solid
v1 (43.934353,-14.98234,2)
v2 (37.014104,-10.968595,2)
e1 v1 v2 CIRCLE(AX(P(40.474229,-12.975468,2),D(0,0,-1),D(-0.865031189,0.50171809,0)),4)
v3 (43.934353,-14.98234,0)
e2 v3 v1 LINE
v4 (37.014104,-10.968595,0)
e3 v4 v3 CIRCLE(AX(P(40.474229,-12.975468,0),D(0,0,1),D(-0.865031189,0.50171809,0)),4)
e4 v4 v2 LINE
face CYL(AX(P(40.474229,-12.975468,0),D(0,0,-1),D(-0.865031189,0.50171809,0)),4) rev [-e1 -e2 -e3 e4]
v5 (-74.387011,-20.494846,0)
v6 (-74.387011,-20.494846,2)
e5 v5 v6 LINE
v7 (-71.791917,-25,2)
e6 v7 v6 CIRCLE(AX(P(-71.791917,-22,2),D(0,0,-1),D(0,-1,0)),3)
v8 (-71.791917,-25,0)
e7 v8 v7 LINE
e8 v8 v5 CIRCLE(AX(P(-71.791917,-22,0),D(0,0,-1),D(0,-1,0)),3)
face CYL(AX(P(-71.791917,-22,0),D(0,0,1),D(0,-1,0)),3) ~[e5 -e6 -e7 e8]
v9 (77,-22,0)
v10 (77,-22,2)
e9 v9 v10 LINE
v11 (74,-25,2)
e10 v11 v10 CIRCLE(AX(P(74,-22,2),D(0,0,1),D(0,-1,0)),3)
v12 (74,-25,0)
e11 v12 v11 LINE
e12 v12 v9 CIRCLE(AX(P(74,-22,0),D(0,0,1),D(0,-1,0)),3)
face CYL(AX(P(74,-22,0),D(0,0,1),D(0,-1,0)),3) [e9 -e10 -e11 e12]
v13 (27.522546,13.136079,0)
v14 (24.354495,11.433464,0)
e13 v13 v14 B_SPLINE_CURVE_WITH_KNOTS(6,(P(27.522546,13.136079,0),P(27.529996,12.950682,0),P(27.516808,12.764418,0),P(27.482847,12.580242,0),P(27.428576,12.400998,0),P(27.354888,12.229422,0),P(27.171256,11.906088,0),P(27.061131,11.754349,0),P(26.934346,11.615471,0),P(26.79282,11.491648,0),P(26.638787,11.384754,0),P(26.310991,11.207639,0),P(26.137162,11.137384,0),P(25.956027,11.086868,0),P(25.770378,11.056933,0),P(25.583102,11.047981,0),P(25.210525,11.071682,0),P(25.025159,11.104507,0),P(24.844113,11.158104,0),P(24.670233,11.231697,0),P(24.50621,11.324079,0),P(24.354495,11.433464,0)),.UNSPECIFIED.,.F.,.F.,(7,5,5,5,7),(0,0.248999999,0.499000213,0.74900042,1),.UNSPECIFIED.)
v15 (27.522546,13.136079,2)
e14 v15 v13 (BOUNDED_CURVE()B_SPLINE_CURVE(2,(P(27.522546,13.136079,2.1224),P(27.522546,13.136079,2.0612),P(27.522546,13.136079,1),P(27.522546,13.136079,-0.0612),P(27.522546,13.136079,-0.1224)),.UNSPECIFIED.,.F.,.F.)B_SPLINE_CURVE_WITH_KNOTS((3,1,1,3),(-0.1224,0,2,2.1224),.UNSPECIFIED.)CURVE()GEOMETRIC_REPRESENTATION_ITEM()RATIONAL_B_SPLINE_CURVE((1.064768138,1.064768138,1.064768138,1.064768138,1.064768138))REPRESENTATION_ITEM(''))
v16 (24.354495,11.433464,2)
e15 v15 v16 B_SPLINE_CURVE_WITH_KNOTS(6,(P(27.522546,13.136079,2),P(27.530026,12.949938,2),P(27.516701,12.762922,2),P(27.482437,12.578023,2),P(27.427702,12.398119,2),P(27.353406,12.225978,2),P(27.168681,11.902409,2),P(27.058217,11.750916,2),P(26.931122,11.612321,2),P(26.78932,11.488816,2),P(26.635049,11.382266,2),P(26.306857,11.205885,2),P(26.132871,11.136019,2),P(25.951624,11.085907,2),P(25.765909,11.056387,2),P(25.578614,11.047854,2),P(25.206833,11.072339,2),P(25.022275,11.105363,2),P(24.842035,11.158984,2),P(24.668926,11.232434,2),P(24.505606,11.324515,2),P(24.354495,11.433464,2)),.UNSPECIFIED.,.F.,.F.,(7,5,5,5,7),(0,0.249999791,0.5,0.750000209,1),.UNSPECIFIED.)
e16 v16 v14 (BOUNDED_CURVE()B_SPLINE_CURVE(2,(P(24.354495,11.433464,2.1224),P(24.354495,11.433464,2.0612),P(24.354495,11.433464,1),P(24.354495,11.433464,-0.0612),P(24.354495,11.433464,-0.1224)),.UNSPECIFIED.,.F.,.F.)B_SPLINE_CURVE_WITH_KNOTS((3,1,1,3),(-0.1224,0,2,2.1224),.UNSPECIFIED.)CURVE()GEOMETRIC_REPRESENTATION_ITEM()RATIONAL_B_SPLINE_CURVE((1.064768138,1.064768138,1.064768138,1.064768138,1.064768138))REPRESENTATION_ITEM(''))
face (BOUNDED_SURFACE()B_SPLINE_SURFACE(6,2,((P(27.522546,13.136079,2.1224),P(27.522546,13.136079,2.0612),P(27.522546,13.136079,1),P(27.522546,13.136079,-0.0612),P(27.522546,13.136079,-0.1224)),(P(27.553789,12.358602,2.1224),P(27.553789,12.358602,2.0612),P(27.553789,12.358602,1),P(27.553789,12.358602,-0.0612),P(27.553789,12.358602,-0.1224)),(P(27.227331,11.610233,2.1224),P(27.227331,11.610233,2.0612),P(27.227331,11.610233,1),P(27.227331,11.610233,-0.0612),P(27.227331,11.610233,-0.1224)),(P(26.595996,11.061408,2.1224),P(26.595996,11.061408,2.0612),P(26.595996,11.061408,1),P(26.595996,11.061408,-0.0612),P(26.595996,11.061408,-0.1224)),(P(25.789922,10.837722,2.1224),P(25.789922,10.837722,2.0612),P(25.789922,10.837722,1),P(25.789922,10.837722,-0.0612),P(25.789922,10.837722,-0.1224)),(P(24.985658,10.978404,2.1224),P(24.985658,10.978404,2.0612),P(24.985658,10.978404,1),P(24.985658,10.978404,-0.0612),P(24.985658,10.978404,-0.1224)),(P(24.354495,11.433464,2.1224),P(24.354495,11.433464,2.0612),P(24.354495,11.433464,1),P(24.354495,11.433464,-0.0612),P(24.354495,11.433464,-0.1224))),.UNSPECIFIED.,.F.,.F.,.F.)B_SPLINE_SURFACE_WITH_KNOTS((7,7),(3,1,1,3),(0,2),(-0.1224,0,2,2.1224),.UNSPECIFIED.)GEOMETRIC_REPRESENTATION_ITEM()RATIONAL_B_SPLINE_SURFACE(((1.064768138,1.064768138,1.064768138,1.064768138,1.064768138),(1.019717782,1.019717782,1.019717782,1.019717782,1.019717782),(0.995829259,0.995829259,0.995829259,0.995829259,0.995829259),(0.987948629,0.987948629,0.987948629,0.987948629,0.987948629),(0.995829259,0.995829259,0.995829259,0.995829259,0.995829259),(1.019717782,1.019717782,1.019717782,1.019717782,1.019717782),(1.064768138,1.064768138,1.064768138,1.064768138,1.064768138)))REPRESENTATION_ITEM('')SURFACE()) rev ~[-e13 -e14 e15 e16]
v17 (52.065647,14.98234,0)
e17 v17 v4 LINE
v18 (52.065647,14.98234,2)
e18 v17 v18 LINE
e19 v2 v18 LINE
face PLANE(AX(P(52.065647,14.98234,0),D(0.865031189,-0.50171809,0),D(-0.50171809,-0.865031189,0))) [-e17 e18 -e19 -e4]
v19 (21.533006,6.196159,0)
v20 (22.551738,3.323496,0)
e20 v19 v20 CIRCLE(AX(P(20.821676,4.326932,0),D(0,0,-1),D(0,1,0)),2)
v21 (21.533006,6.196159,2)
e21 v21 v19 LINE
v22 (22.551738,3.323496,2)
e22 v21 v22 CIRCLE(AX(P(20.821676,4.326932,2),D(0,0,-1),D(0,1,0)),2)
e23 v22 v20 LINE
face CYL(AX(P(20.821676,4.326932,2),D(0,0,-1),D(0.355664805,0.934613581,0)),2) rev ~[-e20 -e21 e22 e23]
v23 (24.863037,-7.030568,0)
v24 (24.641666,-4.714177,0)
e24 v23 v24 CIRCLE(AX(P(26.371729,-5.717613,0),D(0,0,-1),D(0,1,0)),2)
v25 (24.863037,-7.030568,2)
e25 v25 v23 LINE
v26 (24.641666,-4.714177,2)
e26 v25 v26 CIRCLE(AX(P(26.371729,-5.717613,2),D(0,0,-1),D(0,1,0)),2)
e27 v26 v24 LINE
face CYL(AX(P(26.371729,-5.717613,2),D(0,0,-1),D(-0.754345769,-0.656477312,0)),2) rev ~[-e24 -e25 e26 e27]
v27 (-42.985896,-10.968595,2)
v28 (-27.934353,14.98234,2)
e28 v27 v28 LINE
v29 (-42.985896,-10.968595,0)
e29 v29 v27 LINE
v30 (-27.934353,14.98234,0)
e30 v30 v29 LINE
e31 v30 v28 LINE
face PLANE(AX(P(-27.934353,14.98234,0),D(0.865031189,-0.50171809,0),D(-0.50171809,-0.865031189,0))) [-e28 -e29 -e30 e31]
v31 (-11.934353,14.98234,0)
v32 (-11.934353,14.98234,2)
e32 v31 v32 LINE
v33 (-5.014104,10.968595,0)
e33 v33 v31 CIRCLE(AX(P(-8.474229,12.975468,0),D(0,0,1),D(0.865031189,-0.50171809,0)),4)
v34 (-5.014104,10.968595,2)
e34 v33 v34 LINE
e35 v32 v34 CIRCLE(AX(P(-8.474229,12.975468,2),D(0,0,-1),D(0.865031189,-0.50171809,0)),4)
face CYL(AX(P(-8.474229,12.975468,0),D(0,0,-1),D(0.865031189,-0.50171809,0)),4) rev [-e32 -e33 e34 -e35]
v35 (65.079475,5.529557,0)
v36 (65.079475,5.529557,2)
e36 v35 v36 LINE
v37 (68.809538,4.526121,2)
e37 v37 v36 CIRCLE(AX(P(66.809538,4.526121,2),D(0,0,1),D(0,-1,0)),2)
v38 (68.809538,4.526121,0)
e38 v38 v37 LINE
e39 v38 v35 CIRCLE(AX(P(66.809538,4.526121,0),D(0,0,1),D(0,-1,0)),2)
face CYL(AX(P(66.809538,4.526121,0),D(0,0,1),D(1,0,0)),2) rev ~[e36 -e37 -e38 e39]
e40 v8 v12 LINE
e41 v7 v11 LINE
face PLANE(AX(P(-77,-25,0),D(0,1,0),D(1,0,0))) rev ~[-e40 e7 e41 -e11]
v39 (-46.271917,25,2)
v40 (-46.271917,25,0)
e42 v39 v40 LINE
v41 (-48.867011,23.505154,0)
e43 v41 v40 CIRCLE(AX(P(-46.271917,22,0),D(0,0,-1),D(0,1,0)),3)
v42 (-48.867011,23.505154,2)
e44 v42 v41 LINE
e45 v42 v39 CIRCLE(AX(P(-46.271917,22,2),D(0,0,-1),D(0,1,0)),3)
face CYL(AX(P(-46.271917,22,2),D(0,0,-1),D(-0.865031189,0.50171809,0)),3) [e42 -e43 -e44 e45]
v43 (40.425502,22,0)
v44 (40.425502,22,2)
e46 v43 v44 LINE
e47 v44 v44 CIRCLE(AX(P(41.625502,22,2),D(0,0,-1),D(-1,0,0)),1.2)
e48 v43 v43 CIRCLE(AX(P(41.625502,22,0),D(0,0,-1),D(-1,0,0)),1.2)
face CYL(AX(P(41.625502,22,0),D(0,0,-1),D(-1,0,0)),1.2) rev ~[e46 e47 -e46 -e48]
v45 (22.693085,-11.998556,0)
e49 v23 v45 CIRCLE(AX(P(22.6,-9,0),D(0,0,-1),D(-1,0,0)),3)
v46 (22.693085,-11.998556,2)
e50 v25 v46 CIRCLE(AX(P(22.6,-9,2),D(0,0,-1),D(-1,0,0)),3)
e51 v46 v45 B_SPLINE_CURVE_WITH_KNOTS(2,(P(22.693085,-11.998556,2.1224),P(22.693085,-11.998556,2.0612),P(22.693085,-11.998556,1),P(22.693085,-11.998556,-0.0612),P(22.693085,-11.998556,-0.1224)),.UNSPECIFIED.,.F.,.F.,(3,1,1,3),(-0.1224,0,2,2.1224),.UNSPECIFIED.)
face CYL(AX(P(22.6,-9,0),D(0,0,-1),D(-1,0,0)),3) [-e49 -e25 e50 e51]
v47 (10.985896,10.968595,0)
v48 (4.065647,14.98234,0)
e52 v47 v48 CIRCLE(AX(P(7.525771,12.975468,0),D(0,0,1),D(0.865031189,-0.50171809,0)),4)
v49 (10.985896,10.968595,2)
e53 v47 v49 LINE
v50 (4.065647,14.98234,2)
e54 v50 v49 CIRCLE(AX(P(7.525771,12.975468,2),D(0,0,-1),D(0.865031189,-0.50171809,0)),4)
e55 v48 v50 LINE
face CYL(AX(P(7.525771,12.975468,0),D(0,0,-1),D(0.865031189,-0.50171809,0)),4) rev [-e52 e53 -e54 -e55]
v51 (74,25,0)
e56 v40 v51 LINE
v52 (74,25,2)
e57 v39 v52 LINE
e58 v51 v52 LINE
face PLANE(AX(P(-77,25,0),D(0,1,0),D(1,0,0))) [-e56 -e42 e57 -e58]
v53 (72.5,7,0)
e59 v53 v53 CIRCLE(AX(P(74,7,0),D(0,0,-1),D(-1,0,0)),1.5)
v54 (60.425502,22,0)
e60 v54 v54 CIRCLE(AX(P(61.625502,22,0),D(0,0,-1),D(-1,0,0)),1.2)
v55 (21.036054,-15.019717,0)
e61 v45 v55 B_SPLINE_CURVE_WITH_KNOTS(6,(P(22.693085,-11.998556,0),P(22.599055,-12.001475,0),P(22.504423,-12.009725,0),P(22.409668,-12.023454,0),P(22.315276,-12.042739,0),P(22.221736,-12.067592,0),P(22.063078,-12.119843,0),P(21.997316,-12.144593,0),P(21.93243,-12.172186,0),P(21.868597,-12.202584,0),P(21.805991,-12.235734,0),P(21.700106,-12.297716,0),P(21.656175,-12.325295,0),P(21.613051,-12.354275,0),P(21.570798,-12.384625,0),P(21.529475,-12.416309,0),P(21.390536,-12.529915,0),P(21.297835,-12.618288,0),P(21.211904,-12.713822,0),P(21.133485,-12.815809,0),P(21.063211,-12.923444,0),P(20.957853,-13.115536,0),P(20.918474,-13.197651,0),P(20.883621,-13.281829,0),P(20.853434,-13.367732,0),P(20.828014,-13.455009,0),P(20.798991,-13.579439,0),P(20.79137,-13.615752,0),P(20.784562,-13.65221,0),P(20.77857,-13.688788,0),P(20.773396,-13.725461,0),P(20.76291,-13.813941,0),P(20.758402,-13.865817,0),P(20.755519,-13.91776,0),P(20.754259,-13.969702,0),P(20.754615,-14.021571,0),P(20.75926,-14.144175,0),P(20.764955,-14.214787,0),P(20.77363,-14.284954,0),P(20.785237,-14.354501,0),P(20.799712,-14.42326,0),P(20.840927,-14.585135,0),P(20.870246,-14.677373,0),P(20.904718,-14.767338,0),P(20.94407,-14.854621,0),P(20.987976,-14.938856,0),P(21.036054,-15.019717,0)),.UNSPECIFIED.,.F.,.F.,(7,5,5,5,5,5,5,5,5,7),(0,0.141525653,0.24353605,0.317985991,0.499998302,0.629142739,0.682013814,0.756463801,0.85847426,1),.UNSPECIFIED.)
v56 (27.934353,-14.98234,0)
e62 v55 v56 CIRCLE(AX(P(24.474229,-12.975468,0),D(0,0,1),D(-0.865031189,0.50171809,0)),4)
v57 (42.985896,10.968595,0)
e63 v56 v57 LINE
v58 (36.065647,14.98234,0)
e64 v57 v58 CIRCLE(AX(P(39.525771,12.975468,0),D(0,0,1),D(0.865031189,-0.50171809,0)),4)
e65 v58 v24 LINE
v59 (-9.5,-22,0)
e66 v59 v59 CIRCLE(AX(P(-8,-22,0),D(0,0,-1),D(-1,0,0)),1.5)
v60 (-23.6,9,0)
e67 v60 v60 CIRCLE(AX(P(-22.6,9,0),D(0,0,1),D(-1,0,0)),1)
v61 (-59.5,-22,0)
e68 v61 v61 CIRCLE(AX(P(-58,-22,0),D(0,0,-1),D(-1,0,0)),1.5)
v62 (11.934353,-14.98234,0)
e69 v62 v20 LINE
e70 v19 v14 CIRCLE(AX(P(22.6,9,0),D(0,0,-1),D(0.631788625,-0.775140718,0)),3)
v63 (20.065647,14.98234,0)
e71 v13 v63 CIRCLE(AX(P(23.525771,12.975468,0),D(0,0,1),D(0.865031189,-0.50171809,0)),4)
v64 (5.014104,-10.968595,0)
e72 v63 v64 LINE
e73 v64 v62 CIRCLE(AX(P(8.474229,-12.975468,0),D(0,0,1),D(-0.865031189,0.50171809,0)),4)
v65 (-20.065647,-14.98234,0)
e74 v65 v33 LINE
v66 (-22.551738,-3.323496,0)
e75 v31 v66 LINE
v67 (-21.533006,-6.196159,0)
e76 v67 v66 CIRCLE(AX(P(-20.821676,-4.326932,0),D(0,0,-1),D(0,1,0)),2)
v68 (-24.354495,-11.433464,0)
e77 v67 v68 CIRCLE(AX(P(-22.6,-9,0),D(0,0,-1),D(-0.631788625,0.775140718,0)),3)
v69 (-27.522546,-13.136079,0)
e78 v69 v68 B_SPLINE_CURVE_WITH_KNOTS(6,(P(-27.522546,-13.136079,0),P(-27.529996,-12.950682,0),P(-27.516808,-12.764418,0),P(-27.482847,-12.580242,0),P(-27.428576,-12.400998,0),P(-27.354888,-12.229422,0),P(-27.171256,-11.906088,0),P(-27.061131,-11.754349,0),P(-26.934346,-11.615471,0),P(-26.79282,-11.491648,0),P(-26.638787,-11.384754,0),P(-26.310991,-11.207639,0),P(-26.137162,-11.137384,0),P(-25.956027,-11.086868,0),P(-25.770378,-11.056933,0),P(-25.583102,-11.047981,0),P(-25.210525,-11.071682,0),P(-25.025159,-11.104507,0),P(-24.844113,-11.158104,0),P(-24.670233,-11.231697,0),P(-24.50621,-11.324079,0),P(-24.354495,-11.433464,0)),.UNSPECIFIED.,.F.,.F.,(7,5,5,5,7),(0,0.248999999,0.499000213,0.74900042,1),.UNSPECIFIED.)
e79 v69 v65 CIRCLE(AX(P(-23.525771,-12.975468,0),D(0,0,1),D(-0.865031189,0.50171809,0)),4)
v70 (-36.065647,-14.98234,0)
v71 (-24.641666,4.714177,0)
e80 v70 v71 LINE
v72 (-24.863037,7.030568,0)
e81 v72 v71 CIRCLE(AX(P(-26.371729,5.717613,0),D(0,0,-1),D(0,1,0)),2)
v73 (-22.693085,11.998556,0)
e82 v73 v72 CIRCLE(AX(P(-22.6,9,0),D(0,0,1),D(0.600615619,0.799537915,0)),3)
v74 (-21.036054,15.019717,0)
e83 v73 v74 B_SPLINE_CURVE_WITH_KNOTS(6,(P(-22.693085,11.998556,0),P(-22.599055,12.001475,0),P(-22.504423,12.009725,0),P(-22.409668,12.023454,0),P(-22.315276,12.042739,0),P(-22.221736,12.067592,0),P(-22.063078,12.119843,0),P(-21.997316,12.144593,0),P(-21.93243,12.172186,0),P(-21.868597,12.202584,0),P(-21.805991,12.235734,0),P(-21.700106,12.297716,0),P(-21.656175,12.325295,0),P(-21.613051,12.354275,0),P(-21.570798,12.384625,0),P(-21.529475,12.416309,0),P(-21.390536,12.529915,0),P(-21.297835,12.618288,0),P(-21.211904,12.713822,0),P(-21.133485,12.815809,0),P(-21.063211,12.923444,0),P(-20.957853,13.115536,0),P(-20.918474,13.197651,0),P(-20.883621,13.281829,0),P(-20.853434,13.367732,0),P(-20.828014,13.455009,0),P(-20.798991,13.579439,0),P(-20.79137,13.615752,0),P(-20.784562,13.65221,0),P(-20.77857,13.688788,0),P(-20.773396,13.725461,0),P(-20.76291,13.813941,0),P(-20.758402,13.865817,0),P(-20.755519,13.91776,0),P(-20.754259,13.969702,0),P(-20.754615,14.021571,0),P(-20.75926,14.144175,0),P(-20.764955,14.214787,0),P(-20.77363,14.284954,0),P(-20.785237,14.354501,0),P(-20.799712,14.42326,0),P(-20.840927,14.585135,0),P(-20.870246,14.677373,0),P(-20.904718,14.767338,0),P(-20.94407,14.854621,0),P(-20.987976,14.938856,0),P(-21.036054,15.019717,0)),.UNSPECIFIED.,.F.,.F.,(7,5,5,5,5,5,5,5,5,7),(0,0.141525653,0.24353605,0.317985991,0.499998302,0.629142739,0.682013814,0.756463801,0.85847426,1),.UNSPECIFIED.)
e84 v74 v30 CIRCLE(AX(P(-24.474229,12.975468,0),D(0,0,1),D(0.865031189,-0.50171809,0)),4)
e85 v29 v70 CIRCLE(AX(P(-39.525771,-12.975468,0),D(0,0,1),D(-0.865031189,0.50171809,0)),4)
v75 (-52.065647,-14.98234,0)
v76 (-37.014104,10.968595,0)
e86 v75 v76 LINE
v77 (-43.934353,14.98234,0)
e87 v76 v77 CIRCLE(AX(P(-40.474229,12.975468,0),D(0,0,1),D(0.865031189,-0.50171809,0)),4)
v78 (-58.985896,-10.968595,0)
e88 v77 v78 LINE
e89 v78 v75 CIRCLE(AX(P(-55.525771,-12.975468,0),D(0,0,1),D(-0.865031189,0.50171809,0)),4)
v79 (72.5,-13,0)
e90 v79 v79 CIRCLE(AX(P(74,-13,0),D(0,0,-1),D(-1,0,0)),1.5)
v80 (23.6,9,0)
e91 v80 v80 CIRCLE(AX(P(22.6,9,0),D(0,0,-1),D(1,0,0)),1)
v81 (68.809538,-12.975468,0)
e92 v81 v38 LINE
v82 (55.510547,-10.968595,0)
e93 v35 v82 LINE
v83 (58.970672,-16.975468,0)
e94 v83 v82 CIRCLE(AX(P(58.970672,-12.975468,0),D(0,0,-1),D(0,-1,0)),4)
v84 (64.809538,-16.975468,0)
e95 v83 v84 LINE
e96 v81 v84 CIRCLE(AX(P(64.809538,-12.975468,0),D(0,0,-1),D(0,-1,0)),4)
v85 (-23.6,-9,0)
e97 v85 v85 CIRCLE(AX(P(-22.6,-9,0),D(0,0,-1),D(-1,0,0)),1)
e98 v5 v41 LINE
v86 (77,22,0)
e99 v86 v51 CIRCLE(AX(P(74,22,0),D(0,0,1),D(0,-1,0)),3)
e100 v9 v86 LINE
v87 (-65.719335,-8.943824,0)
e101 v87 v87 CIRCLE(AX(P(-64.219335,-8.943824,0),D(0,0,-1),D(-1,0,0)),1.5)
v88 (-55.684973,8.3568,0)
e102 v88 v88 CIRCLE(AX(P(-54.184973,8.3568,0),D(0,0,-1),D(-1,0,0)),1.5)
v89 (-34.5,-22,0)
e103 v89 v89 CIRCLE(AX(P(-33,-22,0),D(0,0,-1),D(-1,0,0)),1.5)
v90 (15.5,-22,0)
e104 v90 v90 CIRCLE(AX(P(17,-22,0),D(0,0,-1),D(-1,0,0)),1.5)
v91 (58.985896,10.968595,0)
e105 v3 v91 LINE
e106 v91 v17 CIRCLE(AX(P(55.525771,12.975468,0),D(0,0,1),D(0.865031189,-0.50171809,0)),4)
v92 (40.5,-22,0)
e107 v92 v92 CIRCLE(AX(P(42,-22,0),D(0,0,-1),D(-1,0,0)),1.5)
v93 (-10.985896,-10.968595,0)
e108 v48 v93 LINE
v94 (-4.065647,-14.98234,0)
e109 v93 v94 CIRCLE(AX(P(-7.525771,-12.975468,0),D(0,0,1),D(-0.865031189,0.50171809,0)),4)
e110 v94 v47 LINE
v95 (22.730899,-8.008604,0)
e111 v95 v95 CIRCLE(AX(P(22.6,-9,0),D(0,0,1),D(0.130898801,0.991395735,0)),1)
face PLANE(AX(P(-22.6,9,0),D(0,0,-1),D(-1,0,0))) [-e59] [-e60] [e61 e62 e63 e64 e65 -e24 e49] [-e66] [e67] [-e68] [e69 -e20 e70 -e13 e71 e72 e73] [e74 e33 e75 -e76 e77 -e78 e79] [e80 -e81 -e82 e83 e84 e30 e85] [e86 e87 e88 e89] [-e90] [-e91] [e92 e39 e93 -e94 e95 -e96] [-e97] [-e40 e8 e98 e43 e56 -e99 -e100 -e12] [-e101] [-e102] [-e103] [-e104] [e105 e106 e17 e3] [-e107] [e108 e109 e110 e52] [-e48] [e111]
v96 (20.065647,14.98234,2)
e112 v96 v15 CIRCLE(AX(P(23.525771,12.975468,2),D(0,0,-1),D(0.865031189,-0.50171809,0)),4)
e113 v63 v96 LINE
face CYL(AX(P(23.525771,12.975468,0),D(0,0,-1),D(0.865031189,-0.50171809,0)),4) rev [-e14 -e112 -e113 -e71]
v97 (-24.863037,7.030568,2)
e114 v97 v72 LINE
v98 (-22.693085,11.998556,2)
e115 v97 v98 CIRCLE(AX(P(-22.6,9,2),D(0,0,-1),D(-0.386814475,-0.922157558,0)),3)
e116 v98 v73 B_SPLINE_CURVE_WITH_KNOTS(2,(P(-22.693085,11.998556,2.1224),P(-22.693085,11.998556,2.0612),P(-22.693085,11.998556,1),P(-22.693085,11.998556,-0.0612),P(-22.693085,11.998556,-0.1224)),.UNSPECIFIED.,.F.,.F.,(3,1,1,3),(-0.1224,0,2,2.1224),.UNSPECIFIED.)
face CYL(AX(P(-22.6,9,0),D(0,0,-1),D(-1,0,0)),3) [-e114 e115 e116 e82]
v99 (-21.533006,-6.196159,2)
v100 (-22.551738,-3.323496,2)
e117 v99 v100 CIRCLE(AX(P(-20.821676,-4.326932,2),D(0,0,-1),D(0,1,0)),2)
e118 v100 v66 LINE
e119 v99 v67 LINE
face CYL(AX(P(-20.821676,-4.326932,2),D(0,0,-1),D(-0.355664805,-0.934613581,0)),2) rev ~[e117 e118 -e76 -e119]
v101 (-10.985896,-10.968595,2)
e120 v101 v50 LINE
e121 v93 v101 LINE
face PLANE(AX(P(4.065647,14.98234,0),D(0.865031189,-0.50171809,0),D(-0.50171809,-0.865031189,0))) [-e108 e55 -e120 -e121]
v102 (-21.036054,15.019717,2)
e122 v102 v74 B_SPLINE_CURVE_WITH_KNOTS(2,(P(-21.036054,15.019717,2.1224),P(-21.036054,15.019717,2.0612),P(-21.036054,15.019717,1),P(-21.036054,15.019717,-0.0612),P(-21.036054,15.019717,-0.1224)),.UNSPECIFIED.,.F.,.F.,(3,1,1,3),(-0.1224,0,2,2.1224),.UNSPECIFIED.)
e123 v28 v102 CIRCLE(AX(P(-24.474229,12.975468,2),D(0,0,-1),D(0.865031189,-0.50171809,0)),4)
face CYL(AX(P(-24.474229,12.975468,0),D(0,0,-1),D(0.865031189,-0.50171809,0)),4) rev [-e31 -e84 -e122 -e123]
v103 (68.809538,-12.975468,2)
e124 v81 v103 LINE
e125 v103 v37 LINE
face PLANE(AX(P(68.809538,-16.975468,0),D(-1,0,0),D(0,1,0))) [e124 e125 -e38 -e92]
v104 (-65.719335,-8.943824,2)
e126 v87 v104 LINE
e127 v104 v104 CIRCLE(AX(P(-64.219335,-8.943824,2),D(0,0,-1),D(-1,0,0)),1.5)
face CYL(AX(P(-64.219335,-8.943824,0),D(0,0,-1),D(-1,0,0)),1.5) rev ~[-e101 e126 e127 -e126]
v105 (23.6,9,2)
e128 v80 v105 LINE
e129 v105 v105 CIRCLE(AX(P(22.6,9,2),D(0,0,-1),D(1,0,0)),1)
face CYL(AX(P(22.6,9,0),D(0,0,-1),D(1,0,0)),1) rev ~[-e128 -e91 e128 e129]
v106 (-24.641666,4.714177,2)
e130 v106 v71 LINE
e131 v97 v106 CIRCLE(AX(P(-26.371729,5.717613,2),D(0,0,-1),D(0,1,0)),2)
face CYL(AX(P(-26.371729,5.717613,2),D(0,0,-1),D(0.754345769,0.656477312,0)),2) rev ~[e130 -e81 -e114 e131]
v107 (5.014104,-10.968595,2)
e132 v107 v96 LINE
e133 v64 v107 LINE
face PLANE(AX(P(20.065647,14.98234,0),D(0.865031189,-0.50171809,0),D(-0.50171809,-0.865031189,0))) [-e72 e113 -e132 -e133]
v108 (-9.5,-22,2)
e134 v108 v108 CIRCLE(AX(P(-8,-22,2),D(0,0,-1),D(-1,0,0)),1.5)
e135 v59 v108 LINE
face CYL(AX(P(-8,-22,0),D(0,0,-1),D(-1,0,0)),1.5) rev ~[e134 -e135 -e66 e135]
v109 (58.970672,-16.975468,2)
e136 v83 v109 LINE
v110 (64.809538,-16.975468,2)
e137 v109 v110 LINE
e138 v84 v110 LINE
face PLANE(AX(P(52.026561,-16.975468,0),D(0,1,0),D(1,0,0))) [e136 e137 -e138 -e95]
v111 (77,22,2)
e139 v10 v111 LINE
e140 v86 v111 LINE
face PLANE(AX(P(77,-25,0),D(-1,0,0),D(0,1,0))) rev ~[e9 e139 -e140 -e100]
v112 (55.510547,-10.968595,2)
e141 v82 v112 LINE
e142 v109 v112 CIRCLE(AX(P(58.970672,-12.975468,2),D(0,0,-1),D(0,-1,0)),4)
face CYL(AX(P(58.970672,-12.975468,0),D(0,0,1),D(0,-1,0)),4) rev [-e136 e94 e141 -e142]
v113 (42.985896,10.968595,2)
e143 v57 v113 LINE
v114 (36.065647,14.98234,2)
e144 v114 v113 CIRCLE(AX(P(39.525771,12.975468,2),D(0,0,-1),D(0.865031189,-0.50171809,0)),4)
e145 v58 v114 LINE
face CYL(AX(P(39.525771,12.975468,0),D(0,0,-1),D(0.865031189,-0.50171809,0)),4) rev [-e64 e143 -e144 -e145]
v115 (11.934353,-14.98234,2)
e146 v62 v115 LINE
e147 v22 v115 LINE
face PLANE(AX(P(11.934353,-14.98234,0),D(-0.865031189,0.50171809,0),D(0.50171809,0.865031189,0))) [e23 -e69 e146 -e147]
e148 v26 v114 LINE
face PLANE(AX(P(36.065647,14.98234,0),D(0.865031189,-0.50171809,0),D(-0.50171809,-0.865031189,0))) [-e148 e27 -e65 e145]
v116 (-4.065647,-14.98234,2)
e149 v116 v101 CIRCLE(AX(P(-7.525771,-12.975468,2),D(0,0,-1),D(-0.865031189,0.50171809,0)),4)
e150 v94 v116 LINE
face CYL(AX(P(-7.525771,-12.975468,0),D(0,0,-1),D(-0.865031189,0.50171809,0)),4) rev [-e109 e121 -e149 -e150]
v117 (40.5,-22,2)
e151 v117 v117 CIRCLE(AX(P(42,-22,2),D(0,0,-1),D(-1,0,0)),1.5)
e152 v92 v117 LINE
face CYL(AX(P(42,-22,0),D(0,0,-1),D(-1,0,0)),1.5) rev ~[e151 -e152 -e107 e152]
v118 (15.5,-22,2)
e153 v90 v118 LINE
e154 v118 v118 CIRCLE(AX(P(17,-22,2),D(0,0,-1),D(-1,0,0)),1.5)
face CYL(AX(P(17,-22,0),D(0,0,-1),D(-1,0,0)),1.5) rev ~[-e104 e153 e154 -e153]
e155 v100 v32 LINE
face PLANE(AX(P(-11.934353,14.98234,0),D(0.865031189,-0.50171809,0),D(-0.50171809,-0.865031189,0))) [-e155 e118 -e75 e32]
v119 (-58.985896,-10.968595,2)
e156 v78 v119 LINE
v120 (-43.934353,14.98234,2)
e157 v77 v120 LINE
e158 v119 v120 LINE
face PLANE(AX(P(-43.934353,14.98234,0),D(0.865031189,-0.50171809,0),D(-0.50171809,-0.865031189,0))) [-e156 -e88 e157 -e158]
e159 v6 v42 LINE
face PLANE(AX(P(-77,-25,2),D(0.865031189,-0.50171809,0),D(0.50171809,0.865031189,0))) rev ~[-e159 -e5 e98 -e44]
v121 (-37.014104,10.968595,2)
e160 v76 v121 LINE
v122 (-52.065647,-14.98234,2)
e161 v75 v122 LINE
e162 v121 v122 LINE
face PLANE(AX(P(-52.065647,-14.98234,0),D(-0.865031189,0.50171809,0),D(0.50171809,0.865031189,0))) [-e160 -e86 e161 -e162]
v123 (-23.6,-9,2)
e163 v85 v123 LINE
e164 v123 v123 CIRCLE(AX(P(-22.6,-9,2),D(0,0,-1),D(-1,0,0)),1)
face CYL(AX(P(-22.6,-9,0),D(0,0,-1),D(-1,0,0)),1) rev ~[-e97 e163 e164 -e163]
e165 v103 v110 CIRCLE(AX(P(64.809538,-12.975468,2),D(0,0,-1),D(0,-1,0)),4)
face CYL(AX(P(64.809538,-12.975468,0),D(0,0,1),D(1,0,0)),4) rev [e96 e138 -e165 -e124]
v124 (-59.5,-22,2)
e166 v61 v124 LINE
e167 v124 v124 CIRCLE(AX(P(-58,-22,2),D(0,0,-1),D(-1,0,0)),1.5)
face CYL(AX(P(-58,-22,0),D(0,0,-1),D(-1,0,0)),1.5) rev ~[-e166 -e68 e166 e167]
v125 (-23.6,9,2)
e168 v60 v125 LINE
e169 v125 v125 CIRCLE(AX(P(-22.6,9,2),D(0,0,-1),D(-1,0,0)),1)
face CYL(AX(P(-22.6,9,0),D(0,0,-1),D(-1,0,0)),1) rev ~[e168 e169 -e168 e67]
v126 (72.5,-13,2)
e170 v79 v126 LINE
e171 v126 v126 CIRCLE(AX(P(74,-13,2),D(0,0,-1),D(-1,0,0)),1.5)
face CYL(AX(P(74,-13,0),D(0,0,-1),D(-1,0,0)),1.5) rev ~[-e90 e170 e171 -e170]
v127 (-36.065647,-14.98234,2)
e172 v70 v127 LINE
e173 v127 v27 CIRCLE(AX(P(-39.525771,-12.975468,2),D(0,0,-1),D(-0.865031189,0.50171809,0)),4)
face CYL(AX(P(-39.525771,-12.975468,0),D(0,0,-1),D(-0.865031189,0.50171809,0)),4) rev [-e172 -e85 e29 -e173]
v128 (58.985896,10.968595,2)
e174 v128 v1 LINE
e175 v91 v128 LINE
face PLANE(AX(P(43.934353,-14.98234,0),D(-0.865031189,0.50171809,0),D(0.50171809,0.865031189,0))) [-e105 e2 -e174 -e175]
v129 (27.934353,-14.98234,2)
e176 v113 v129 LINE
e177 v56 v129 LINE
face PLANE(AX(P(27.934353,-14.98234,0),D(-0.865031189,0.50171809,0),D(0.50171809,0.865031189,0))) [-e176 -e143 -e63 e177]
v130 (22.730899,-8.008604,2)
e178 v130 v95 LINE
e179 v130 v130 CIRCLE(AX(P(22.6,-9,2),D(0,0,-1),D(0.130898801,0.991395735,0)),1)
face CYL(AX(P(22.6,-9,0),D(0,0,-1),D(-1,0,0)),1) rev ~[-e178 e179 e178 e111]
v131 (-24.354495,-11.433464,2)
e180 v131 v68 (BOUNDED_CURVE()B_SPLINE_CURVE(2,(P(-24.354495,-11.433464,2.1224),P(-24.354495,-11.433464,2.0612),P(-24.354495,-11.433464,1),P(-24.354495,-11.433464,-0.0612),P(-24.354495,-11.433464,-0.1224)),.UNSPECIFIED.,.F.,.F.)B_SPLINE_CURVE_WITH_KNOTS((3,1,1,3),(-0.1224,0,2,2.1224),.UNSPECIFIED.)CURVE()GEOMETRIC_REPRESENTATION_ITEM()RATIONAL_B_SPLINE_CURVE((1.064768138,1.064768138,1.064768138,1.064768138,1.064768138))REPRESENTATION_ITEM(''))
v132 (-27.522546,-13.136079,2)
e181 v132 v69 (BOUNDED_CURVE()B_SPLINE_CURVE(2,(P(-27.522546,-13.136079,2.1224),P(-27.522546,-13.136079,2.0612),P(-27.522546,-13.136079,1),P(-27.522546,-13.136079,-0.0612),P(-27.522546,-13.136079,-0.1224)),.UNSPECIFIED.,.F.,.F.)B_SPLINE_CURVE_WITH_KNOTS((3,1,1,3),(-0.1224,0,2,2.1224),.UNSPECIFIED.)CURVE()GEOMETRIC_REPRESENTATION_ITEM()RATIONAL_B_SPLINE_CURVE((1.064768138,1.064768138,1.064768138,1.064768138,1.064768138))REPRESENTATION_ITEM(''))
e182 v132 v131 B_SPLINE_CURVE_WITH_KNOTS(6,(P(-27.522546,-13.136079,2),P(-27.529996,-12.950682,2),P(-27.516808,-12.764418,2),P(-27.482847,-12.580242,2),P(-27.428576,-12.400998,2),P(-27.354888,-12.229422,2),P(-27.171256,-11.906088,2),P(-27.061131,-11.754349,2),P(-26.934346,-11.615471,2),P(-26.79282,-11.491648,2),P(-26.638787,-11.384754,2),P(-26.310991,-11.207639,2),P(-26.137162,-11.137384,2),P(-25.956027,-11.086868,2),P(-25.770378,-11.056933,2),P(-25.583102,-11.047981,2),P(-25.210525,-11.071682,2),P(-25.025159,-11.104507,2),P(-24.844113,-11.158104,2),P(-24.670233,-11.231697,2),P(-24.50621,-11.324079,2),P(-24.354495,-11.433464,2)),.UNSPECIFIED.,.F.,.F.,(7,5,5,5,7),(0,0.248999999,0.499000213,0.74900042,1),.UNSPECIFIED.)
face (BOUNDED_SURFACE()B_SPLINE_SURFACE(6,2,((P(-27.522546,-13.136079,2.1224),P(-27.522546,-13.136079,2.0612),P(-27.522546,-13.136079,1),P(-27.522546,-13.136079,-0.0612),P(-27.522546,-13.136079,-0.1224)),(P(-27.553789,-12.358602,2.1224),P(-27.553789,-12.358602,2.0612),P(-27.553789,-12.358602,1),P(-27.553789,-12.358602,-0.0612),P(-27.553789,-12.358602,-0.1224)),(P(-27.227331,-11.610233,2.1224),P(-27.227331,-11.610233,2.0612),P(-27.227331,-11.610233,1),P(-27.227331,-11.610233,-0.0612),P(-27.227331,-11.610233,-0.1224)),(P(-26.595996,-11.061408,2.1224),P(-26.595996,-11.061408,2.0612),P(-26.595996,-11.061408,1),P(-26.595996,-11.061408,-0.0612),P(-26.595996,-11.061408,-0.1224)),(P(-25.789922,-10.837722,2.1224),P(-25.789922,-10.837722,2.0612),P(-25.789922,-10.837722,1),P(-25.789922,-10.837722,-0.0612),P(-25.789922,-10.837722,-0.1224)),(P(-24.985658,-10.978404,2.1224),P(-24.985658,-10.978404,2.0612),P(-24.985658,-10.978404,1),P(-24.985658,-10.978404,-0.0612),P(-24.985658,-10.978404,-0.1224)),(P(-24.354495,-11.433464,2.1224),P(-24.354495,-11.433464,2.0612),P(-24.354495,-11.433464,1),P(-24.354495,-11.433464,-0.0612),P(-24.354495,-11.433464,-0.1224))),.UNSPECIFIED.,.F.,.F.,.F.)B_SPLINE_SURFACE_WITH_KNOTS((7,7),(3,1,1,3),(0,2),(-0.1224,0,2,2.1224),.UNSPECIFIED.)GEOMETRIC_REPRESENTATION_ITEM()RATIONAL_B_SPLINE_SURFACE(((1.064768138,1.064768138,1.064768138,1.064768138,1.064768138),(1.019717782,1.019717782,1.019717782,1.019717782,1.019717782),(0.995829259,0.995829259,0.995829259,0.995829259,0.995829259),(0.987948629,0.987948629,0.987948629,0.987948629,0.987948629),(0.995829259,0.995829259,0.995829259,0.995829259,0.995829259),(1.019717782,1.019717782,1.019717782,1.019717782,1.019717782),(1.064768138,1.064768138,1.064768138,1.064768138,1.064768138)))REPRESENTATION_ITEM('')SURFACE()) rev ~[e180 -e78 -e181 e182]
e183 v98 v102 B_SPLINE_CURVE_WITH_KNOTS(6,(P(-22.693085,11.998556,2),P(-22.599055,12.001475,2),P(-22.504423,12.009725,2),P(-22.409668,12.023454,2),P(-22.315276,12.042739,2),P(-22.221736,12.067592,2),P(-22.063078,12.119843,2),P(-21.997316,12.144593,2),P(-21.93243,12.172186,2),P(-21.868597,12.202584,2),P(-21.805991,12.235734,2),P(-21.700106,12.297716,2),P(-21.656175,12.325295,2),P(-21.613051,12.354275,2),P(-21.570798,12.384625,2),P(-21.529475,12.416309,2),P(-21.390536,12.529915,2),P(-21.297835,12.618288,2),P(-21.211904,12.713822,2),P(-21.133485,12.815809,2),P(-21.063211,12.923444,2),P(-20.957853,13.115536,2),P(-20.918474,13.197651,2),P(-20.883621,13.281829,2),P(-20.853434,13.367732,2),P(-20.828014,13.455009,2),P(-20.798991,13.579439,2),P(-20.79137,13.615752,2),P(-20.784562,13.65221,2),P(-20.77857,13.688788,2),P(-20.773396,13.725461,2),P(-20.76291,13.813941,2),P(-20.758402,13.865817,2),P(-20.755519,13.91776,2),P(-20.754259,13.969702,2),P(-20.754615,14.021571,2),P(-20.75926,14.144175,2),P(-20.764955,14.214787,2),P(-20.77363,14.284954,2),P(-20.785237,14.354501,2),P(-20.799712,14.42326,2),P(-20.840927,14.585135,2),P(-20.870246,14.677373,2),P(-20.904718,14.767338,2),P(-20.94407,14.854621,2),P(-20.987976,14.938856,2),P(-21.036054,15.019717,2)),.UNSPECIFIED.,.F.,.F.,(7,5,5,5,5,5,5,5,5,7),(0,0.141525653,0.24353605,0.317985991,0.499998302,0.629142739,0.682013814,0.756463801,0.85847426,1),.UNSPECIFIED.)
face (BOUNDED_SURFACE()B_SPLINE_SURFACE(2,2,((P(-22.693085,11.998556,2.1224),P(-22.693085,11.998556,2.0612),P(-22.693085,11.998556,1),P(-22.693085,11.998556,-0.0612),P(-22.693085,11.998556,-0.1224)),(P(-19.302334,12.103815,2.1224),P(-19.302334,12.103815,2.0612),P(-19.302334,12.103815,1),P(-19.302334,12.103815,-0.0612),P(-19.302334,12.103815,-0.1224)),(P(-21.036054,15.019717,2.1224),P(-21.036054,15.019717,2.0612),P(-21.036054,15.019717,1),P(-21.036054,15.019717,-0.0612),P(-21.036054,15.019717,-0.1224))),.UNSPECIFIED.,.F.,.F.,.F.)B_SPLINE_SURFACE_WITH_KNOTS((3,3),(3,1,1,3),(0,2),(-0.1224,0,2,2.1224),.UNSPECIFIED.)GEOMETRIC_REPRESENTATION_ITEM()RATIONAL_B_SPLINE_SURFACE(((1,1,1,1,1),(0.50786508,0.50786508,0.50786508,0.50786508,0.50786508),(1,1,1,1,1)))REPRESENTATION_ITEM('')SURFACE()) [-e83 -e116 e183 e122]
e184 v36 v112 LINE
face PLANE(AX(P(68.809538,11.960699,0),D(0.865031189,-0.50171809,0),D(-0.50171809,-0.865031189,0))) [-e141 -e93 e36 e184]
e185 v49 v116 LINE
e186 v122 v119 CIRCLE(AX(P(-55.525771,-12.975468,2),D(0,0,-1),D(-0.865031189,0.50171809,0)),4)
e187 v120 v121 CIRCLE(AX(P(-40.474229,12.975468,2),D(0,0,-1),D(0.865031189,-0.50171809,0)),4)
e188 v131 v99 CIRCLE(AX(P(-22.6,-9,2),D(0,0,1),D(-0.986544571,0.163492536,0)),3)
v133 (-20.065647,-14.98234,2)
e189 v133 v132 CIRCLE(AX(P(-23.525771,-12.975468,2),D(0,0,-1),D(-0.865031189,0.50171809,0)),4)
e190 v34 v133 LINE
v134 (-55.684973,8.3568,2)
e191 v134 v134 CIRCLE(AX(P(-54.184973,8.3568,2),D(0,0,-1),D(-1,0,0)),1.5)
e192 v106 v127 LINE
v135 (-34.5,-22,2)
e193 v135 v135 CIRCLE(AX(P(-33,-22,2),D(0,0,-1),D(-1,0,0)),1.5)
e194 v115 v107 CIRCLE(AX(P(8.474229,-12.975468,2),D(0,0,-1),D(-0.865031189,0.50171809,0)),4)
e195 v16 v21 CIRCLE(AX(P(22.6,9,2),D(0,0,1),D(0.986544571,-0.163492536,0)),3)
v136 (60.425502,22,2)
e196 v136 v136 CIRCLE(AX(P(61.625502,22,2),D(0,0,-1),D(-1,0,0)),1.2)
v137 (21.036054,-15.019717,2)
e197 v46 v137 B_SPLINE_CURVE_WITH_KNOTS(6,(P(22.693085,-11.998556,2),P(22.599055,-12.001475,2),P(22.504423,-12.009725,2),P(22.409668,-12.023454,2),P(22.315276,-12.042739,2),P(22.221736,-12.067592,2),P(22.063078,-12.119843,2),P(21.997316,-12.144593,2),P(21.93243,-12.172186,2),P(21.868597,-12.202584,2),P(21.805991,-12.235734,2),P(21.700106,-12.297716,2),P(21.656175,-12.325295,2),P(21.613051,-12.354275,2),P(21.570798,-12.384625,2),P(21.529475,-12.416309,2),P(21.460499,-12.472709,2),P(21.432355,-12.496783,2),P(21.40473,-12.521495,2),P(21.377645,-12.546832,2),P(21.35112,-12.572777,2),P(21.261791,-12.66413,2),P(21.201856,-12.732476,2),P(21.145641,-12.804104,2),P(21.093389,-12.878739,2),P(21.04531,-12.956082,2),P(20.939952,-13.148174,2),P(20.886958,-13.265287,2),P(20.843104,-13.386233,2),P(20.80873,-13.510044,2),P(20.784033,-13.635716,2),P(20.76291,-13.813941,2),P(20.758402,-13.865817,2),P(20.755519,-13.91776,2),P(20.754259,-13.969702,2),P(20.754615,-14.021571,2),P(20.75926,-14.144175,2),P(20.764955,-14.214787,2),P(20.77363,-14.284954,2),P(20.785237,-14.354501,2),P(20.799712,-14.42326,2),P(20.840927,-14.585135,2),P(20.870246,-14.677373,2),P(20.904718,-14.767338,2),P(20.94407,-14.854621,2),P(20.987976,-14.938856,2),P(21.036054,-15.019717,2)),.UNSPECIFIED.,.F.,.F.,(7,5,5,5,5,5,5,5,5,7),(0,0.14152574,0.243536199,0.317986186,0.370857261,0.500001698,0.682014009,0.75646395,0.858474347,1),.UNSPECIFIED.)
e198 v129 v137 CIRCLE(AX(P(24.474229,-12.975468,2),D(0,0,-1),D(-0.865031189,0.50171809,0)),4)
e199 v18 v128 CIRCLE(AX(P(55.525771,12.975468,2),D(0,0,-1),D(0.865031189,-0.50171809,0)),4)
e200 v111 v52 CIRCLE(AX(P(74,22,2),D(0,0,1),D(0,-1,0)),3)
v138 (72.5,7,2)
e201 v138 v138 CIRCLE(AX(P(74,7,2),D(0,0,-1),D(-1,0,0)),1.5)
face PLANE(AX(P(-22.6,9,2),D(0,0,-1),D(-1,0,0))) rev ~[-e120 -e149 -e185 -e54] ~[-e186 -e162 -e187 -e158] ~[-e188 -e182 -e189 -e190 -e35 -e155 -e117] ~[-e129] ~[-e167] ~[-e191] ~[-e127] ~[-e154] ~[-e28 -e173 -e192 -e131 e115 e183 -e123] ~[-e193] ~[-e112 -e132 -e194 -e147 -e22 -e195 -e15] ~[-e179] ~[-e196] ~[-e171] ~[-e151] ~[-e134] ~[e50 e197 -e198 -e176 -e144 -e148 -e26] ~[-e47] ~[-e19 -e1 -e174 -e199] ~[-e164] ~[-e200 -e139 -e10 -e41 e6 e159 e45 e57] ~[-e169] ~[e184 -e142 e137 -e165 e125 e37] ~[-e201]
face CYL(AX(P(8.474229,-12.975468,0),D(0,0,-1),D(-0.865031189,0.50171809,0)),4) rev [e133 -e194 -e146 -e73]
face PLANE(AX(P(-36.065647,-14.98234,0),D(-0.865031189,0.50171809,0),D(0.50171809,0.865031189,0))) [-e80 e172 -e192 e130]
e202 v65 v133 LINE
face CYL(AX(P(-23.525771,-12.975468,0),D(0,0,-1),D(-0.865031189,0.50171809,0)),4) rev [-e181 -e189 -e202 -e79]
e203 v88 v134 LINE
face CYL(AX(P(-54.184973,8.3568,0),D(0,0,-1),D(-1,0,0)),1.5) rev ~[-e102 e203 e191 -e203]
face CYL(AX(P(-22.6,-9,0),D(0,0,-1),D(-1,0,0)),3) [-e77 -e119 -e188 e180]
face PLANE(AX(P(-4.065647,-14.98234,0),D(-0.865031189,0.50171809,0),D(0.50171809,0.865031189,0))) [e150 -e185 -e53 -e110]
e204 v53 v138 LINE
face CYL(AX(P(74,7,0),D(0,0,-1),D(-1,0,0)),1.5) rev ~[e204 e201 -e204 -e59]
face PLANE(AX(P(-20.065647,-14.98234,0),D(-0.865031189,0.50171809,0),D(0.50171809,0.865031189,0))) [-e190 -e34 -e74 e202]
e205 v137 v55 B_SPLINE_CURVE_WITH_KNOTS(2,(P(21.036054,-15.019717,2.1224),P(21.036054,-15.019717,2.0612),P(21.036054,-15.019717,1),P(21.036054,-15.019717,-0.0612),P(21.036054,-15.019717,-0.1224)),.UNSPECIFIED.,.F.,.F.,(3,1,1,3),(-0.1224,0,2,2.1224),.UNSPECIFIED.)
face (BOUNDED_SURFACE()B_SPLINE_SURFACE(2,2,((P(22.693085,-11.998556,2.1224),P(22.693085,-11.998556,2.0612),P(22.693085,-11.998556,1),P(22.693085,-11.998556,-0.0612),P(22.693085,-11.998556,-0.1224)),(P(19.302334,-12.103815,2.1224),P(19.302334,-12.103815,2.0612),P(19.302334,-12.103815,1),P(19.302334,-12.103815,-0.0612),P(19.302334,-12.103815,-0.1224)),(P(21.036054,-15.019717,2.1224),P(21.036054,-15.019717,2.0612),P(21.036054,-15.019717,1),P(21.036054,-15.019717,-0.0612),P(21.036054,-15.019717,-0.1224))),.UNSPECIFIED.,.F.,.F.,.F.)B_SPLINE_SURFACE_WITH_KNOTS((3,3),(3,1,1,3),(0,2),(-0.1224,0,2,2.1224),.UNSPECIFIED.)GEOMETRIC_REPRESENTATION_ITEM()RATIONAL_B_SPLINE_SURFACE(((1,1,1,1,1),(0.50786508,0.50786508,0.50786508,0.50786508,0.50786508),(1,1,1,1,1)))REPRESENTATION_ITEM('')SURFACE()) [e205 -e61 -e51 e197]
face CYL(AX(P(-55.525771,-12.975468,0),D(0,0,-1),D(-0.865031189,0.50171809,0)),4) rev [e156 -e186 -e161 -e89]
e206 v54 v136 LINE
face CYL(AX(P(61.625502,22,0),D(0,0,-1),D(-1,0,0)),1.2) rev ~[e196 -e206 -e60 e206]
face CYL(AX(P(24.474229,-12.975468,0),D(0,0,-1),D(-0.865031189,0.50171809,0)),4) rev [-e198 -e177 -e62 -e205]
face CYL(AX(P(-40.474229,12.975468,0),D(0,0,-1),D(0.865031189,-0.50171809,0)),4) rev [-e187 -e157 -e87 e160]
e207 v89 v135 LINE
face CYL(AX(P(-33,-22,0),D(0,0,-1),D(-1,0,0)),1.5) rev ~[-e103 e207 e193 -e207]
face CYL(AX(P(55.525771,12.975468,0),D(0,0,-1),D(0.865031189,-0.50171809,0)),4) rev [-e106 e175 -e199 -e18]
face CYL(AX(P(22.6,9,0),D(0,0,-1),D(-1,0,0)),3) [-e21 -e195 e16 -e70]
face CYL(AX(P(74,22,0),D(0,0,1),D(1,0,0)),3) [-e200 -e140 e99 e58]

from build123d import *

# Parameters (mm, degrees)
SKETCH_1_W          = 154
SKETCH_1_H          = 50
EXTRUDE_1_DEPTH     = 2
SKETCH_2_R          = 1
CUT_EXTRUDE_1_DEPTH = 10
CUT_EXTRUDE_2_DEPTH = 10
SKETCH_4_R          = 1.5
CUT_EXTRUDE_3_DEPTH = 10
FILLET_1_R          = 3
CUT_EXTRUDE_4_DEPTH = 5
SKETCH_6_R          = 3
SKETCH_6_R_2        = 1
EXTRUDE_2_DEPTH     = 2
FILLET_2_R          = 2
CUT_EXTRUDE_5_DEPTH = 5
FILLET_3_R          = 4
FILLET_4_R          = 2
SKETCH_19_R         = 1.5
CUT_EXTRUDE_6_DEPTH = 10
SKETCH_20_R         = 1.5
CUT_EXTRUDE_7_DEPTH = 81.981479493
SKETCH_22_R         = 1.2
CUT_EXTRUDE_9_DEPTH = 10


with BuildPart() as part:
    # 草图1 → 凸台-拉伸1 (new body)
    with BuildSketch(Plane.XY):
        Rectangle(SKETCH_1_W, SKETCH_1_H)
    extrude(amount=EXTRUDE_1_DEPTH)

    # 草图2 → 切除-拉伸1 (cut)
    with BuildSketch(Plane(origin=(0, 0, 0), x_dir=(-1, 0, 0), z_dir=(0, 0, -1))):
        with Locations((22.6, 9)):
            Circle(SKETCH_2_R)
        with Locations(Location((-22.6, 9, 0), (0, 0, 180))):
            Circle(SKETCH_2_R)
        with Locations(Location((22.6, -9, 0), (0, 0, 180))):
            Circle(SKETCH_2_R)
        with Locations((-22.6, -9)):
            Circle(SKETCH_2_R)
    extrude(amount=-CUT_EXTRUDE_1_DEPTH, mode=Mode.SUBTRACT)

    # 草图3 → 切除-拉伸2 (cut)
    with BuildSketch(Plane.XY.offset(2)):
        Polygon((-77, -25), (-48, 25), (-77, 25), align=None)
    extrude(amount=-CUT_EXTRUDE_2_DEPTH, mode=Mode.SUBTRACT)

    # 草图4 → 切除-拉伸3 (cut)
    with BuildSketch(Plane(origin=(0, 0, 0), x_dir=(-1, 0, 0), z_dir=(0, 0, -1))):
        with Locations((-42, -22)):
            Circle(SKETCH_4_R)
        with Locations((-17, -22)):
            Circle(SKETCH_4_R)
        with Locations((8, -22)):
            Circle(SKETCH_4_R)
        with Locations((33, -22)):
            Circle(SKETCH_4_R)
        with Locations((58, -22)):
            Circle(SKETCH_4_R)
    extrude(amount=-CUT_EXTRUDE_3_DEPTH, mode=Mode.SUBTRACT)

    # 圆角1
    fillet_1_edges = [part.edges().sort_by_distance(p)[0] for p in [
        (-48, 25, 1),
        (77, 25, 1),
        (77, -25, 1),
        (-77, -25, 1),
    ]]
    fillet(fillet_1_edges, radius=FILLET_1_R)

    # 草图5 → 切除-拉伸4 (cut)
    with BuildSketch(Plane(origin=(0, 0, 0), x_dir=(-1, 0, 0), z_dir=(0, 0, -1))):
        with BuildLine():
            Line((4.06564659, -14.982340198), (-10.985896104, 10.96859548))
            ThreePointArc((-10.985896104, 10.96859548), (-9.532643706, 16.435592596), (-4.06564659, 14.982340198))
            Line((-4.06564659, 14.982340198), (10.985896104, -10.96859548))
            ThreePointArc((10.985896104, -10.96859548), (9.532643706, -16.435592596), (4.06564659, -14.982340198))
        make_face()
        with BuildLine():
            Line((20.06564659, -14.982340198), (5.014103896, 10.96859548))
            ThreePointArc((5.014103896, 10.96859548), (6.467356294, 16.435592596), (11.93435341, 14.982340198))
            Line((11.93435341, 14.982340198), (26.985896104, -10.96859548))
            ThreePointArc((26.985896104, -10.96859548), (25.532643706, -16.435592596), (20.06564659, -14.982340198))
        make_face()
        with BuildLine():
            Line((36.06564659, -14.982340198), (21.014103896, 10.96859548))
            ThreePointArc((21.014103896, 10.96859548), (22.467356294, 16.435592596), (27.93435341, 14.982340198))
            Line((27.93435341, 14.982340198), (42.985896104, -10.96859548))
            ThreePointArc((42.985896104, -10.96859548), (41.532643706, -16.435592596), (36.06564659, -14.982340198))
        make_face()
        with BuildLine():
            Line((52.06564659, -14.982340198), (37.014103896, 10.96859548))
            ThreePointArc((37.014103896, 10.96859548), (38.467356294, 16.435592596), (43.93435341, 14.982340198))
            Line((43.93435341, 14.982340198), (58.985896104, -10.96859548))
            ThreePointArc((58.985896104, -10.96859548), (57.532643706, -16.435592596), (52.06564659, -14.982340198))
        make_face()
        with BuildLine():
            Line((-11.93435341, -14.982340198), (-26.985896104, 10.96859548))
            ThreePointArc((-26.985896104, 10.96859548), (-25.532643706, 16.435592596), (-20.06564659, 14.982340198))
            Line((-20.06564659, 14.982340198), (-5.014103896, -10.96859548))
            ThreePointArc((-5.014103896, -10.96859548), (-6.467356294, -16.435592596), (-11.93435341, -14.982340198))
        make_face()
        with BuildLine():
            Line((-27.93435341, -14.982340198), (-42.985896104, 10.96859548))
            ThreePointArc((-42.985896104, 10.96859548), (-41.532643706, 16.435592596), (-36.06564659, 14.982340198))
            Line((-36.06564659, 14.982340198), (-21.014103896, -10.96859548))
            ThreePointArc((-21.014103896, -10.96859548), (-22.467356294, -16.435592596), (-27.93435341, -14.982340198))
        make_face()
        with BuildLine():
            Line((-43.93435341, -14.982340198), (-58.985896104, 10.96859548))
            ThreePointArc((-58.985896104, 10.96859548), (-57.532643706, 16.435592596), (-52.06564659, 14.982340198))
            Line((-52.06564659, 14.982340198), (-37.014103896, -10.96859548))
            ThreePointArc((-37.014103896, -10.96859548), (-38.467356294, -16.435592596), (-43.93435341, -14.982340198))
        make_face()
    extrude(amount=-CUT_EXTRUDE_4_DEPTH, mode=Mode.SUBTRACT)

    # 草图6 → 凸台-拉伸2 (add)
    # profile 1 of 4: a face of its own
    with BuildSketch(Plane(origin=(0, 0, 0), x_dir=(-1, 0, 0), z_dir=(0, 0, -1))):
        with Locations((22.6, 9)):
            Circle(SKETCH_6_R)
        with Locations((22.6, 9)):
            Circle(SKETCH_6_R_2, mode=Mode.SUBTRACT)
    # profile 2 of 4: a face of its own
    with BuildSketch(Plane(origin=(0, 0, 0), x_dir=(-1, 0, 0), z_dir=(0, 0, -1))):
        with Locations((22.6, -9)):
            Circle(SKETCH_6_R)
        with Locations((22.6, -9)):
            Circle(SKETCH_6_R_2, mode=Mode.SUBTRACT)
    # profile 3 of 4: a face of its own
    with BuildSketch(Plane(origin=(0, 0, 0), x_dir=(-1, 0, 0), z_dir=(0, 0, -1))):
        with Locations((-22.6, -9)):
            Circle(SKETCH_6_R)
        with Locations((-22.6, -9)):
            Circle(SKETCH_6_R_2, mode=Mode.SUBTRACT)
    # profile 4 of 4: a face of its own
    with BuildSketch(Plane(origin=(0, 0, 0), x_dir=(-1, 0, 0), z_dir=(0, 0, -1))):
        with Locations((-22.6, 9)):
            Circle(SKETCH_6_R)
        with Locations(Location((-22.6, 9, 0), (0, 0, 180))):
            Circle(SKETCH_6_R_2, mode=Mode.SUBTRACT)
    extrude(amount=-EXTRUDE_2_DEPTH)

    # 圆角2
    fillet_2_edges = [part.edges().sort_by_distance(p)[0] for p in [
        (-20.798153142, 11.398613745, 1),
        (-23.760443426, 6.233527326, 1),
        (-24.495365876, -6.674577845, 1),
        (-25.559633713, -8.509522393, 1),
        (20.798153142, -11.398613745, 1),
        (23.760443426, -6.233527326, 1),
        (24.495365876, 6.674577845, 1),
        (25.559633713, 8.509522393, 1),
    ]]
    fillet(fillet_2_edges, radius=FILLET_2_R)

    # 草图7 → 切除-拉伸5 (cut)
    with BuildSketch(Plane(origin=(0, 0, 0), x_dir=(-1, 0, 0), z_dir=(0, 0, -1))):
        Polygon((-68.8095376, 11.960699007), (-52.026560829, -16.975467839), (-68.8095376, -16.975467839), align=None)
    extrude(amount=-CUT_EXTRUDE_5_DEPTH, mode=Mode.SUBTRACT)

    # 圆角3
    fillet_3_edges = [part.edges().sort_by_distance(p)[0] for p in [
        (52.026560829, -16.975467839, 1),
        (68.8095376, -16.975467839, 1),
    ]]
    fillet(fillet_3_edges, radius=FILLET_3_R)

    # 圆角4
    fillet_4_edges = [part.edges().sort_by_distance(p)[0] for p in [
        (68.8095376, 11.960699007, 1),
    ]]
    fillet(fillet_4_edges, radius=FILLET_4_R)

    # 草图19 → 切除-拉伸6 (cut)
    with BuildSketch(Plane(origin=(0, 0, 0), x_dir=(-1, 0, 0), z_dir=(0, 0, -1))):
        with Locations((-74, -13)):
            Circle(SKETCH_19_R)
        with Locations((-74, 7)):
            Circle(SKETCH_19_R)
    extrude(amount=-CUT_EXTRUDE_6_DEPTH, mode=Mode.SUBTRACT)

    # 草图20 → 切除-拉伸7 (cut, through all)
    with BuildSketch(Plane(origin=(0, 0, 0), x_dir=(-1, 0, 0), z_dir=(0, 0, -1))):
        with Locations((64.219334799, -8.943823867)):
            Circle(SKETCH_20_R)
        with Locations((54.184973003, 8.356799919)):
            Circle(SKETCH_20_R)
    extrude(amount=-CUT_EXTRUDE_7_DEPTH, mode=Mode.SUBTRACT)

    # 草图22 → 切除-拉伸9 (cut)
    with BuildSketch(Plane(origin=(0, 0, 0), x_dir=(-1, 0, 0), z_dir=(0, 0, -1))):
        with Locations((-41.62550176, 22)):
            Circle(SKETCH_22_R)
        with Locations((-61.62550176, 22)):
            Circle(SKETCH_22_R)
    extrude(amount=-CUT_EXTRUDE_9_DEPTH, mode=Mode.SUBTRACT)


solid = part.part
